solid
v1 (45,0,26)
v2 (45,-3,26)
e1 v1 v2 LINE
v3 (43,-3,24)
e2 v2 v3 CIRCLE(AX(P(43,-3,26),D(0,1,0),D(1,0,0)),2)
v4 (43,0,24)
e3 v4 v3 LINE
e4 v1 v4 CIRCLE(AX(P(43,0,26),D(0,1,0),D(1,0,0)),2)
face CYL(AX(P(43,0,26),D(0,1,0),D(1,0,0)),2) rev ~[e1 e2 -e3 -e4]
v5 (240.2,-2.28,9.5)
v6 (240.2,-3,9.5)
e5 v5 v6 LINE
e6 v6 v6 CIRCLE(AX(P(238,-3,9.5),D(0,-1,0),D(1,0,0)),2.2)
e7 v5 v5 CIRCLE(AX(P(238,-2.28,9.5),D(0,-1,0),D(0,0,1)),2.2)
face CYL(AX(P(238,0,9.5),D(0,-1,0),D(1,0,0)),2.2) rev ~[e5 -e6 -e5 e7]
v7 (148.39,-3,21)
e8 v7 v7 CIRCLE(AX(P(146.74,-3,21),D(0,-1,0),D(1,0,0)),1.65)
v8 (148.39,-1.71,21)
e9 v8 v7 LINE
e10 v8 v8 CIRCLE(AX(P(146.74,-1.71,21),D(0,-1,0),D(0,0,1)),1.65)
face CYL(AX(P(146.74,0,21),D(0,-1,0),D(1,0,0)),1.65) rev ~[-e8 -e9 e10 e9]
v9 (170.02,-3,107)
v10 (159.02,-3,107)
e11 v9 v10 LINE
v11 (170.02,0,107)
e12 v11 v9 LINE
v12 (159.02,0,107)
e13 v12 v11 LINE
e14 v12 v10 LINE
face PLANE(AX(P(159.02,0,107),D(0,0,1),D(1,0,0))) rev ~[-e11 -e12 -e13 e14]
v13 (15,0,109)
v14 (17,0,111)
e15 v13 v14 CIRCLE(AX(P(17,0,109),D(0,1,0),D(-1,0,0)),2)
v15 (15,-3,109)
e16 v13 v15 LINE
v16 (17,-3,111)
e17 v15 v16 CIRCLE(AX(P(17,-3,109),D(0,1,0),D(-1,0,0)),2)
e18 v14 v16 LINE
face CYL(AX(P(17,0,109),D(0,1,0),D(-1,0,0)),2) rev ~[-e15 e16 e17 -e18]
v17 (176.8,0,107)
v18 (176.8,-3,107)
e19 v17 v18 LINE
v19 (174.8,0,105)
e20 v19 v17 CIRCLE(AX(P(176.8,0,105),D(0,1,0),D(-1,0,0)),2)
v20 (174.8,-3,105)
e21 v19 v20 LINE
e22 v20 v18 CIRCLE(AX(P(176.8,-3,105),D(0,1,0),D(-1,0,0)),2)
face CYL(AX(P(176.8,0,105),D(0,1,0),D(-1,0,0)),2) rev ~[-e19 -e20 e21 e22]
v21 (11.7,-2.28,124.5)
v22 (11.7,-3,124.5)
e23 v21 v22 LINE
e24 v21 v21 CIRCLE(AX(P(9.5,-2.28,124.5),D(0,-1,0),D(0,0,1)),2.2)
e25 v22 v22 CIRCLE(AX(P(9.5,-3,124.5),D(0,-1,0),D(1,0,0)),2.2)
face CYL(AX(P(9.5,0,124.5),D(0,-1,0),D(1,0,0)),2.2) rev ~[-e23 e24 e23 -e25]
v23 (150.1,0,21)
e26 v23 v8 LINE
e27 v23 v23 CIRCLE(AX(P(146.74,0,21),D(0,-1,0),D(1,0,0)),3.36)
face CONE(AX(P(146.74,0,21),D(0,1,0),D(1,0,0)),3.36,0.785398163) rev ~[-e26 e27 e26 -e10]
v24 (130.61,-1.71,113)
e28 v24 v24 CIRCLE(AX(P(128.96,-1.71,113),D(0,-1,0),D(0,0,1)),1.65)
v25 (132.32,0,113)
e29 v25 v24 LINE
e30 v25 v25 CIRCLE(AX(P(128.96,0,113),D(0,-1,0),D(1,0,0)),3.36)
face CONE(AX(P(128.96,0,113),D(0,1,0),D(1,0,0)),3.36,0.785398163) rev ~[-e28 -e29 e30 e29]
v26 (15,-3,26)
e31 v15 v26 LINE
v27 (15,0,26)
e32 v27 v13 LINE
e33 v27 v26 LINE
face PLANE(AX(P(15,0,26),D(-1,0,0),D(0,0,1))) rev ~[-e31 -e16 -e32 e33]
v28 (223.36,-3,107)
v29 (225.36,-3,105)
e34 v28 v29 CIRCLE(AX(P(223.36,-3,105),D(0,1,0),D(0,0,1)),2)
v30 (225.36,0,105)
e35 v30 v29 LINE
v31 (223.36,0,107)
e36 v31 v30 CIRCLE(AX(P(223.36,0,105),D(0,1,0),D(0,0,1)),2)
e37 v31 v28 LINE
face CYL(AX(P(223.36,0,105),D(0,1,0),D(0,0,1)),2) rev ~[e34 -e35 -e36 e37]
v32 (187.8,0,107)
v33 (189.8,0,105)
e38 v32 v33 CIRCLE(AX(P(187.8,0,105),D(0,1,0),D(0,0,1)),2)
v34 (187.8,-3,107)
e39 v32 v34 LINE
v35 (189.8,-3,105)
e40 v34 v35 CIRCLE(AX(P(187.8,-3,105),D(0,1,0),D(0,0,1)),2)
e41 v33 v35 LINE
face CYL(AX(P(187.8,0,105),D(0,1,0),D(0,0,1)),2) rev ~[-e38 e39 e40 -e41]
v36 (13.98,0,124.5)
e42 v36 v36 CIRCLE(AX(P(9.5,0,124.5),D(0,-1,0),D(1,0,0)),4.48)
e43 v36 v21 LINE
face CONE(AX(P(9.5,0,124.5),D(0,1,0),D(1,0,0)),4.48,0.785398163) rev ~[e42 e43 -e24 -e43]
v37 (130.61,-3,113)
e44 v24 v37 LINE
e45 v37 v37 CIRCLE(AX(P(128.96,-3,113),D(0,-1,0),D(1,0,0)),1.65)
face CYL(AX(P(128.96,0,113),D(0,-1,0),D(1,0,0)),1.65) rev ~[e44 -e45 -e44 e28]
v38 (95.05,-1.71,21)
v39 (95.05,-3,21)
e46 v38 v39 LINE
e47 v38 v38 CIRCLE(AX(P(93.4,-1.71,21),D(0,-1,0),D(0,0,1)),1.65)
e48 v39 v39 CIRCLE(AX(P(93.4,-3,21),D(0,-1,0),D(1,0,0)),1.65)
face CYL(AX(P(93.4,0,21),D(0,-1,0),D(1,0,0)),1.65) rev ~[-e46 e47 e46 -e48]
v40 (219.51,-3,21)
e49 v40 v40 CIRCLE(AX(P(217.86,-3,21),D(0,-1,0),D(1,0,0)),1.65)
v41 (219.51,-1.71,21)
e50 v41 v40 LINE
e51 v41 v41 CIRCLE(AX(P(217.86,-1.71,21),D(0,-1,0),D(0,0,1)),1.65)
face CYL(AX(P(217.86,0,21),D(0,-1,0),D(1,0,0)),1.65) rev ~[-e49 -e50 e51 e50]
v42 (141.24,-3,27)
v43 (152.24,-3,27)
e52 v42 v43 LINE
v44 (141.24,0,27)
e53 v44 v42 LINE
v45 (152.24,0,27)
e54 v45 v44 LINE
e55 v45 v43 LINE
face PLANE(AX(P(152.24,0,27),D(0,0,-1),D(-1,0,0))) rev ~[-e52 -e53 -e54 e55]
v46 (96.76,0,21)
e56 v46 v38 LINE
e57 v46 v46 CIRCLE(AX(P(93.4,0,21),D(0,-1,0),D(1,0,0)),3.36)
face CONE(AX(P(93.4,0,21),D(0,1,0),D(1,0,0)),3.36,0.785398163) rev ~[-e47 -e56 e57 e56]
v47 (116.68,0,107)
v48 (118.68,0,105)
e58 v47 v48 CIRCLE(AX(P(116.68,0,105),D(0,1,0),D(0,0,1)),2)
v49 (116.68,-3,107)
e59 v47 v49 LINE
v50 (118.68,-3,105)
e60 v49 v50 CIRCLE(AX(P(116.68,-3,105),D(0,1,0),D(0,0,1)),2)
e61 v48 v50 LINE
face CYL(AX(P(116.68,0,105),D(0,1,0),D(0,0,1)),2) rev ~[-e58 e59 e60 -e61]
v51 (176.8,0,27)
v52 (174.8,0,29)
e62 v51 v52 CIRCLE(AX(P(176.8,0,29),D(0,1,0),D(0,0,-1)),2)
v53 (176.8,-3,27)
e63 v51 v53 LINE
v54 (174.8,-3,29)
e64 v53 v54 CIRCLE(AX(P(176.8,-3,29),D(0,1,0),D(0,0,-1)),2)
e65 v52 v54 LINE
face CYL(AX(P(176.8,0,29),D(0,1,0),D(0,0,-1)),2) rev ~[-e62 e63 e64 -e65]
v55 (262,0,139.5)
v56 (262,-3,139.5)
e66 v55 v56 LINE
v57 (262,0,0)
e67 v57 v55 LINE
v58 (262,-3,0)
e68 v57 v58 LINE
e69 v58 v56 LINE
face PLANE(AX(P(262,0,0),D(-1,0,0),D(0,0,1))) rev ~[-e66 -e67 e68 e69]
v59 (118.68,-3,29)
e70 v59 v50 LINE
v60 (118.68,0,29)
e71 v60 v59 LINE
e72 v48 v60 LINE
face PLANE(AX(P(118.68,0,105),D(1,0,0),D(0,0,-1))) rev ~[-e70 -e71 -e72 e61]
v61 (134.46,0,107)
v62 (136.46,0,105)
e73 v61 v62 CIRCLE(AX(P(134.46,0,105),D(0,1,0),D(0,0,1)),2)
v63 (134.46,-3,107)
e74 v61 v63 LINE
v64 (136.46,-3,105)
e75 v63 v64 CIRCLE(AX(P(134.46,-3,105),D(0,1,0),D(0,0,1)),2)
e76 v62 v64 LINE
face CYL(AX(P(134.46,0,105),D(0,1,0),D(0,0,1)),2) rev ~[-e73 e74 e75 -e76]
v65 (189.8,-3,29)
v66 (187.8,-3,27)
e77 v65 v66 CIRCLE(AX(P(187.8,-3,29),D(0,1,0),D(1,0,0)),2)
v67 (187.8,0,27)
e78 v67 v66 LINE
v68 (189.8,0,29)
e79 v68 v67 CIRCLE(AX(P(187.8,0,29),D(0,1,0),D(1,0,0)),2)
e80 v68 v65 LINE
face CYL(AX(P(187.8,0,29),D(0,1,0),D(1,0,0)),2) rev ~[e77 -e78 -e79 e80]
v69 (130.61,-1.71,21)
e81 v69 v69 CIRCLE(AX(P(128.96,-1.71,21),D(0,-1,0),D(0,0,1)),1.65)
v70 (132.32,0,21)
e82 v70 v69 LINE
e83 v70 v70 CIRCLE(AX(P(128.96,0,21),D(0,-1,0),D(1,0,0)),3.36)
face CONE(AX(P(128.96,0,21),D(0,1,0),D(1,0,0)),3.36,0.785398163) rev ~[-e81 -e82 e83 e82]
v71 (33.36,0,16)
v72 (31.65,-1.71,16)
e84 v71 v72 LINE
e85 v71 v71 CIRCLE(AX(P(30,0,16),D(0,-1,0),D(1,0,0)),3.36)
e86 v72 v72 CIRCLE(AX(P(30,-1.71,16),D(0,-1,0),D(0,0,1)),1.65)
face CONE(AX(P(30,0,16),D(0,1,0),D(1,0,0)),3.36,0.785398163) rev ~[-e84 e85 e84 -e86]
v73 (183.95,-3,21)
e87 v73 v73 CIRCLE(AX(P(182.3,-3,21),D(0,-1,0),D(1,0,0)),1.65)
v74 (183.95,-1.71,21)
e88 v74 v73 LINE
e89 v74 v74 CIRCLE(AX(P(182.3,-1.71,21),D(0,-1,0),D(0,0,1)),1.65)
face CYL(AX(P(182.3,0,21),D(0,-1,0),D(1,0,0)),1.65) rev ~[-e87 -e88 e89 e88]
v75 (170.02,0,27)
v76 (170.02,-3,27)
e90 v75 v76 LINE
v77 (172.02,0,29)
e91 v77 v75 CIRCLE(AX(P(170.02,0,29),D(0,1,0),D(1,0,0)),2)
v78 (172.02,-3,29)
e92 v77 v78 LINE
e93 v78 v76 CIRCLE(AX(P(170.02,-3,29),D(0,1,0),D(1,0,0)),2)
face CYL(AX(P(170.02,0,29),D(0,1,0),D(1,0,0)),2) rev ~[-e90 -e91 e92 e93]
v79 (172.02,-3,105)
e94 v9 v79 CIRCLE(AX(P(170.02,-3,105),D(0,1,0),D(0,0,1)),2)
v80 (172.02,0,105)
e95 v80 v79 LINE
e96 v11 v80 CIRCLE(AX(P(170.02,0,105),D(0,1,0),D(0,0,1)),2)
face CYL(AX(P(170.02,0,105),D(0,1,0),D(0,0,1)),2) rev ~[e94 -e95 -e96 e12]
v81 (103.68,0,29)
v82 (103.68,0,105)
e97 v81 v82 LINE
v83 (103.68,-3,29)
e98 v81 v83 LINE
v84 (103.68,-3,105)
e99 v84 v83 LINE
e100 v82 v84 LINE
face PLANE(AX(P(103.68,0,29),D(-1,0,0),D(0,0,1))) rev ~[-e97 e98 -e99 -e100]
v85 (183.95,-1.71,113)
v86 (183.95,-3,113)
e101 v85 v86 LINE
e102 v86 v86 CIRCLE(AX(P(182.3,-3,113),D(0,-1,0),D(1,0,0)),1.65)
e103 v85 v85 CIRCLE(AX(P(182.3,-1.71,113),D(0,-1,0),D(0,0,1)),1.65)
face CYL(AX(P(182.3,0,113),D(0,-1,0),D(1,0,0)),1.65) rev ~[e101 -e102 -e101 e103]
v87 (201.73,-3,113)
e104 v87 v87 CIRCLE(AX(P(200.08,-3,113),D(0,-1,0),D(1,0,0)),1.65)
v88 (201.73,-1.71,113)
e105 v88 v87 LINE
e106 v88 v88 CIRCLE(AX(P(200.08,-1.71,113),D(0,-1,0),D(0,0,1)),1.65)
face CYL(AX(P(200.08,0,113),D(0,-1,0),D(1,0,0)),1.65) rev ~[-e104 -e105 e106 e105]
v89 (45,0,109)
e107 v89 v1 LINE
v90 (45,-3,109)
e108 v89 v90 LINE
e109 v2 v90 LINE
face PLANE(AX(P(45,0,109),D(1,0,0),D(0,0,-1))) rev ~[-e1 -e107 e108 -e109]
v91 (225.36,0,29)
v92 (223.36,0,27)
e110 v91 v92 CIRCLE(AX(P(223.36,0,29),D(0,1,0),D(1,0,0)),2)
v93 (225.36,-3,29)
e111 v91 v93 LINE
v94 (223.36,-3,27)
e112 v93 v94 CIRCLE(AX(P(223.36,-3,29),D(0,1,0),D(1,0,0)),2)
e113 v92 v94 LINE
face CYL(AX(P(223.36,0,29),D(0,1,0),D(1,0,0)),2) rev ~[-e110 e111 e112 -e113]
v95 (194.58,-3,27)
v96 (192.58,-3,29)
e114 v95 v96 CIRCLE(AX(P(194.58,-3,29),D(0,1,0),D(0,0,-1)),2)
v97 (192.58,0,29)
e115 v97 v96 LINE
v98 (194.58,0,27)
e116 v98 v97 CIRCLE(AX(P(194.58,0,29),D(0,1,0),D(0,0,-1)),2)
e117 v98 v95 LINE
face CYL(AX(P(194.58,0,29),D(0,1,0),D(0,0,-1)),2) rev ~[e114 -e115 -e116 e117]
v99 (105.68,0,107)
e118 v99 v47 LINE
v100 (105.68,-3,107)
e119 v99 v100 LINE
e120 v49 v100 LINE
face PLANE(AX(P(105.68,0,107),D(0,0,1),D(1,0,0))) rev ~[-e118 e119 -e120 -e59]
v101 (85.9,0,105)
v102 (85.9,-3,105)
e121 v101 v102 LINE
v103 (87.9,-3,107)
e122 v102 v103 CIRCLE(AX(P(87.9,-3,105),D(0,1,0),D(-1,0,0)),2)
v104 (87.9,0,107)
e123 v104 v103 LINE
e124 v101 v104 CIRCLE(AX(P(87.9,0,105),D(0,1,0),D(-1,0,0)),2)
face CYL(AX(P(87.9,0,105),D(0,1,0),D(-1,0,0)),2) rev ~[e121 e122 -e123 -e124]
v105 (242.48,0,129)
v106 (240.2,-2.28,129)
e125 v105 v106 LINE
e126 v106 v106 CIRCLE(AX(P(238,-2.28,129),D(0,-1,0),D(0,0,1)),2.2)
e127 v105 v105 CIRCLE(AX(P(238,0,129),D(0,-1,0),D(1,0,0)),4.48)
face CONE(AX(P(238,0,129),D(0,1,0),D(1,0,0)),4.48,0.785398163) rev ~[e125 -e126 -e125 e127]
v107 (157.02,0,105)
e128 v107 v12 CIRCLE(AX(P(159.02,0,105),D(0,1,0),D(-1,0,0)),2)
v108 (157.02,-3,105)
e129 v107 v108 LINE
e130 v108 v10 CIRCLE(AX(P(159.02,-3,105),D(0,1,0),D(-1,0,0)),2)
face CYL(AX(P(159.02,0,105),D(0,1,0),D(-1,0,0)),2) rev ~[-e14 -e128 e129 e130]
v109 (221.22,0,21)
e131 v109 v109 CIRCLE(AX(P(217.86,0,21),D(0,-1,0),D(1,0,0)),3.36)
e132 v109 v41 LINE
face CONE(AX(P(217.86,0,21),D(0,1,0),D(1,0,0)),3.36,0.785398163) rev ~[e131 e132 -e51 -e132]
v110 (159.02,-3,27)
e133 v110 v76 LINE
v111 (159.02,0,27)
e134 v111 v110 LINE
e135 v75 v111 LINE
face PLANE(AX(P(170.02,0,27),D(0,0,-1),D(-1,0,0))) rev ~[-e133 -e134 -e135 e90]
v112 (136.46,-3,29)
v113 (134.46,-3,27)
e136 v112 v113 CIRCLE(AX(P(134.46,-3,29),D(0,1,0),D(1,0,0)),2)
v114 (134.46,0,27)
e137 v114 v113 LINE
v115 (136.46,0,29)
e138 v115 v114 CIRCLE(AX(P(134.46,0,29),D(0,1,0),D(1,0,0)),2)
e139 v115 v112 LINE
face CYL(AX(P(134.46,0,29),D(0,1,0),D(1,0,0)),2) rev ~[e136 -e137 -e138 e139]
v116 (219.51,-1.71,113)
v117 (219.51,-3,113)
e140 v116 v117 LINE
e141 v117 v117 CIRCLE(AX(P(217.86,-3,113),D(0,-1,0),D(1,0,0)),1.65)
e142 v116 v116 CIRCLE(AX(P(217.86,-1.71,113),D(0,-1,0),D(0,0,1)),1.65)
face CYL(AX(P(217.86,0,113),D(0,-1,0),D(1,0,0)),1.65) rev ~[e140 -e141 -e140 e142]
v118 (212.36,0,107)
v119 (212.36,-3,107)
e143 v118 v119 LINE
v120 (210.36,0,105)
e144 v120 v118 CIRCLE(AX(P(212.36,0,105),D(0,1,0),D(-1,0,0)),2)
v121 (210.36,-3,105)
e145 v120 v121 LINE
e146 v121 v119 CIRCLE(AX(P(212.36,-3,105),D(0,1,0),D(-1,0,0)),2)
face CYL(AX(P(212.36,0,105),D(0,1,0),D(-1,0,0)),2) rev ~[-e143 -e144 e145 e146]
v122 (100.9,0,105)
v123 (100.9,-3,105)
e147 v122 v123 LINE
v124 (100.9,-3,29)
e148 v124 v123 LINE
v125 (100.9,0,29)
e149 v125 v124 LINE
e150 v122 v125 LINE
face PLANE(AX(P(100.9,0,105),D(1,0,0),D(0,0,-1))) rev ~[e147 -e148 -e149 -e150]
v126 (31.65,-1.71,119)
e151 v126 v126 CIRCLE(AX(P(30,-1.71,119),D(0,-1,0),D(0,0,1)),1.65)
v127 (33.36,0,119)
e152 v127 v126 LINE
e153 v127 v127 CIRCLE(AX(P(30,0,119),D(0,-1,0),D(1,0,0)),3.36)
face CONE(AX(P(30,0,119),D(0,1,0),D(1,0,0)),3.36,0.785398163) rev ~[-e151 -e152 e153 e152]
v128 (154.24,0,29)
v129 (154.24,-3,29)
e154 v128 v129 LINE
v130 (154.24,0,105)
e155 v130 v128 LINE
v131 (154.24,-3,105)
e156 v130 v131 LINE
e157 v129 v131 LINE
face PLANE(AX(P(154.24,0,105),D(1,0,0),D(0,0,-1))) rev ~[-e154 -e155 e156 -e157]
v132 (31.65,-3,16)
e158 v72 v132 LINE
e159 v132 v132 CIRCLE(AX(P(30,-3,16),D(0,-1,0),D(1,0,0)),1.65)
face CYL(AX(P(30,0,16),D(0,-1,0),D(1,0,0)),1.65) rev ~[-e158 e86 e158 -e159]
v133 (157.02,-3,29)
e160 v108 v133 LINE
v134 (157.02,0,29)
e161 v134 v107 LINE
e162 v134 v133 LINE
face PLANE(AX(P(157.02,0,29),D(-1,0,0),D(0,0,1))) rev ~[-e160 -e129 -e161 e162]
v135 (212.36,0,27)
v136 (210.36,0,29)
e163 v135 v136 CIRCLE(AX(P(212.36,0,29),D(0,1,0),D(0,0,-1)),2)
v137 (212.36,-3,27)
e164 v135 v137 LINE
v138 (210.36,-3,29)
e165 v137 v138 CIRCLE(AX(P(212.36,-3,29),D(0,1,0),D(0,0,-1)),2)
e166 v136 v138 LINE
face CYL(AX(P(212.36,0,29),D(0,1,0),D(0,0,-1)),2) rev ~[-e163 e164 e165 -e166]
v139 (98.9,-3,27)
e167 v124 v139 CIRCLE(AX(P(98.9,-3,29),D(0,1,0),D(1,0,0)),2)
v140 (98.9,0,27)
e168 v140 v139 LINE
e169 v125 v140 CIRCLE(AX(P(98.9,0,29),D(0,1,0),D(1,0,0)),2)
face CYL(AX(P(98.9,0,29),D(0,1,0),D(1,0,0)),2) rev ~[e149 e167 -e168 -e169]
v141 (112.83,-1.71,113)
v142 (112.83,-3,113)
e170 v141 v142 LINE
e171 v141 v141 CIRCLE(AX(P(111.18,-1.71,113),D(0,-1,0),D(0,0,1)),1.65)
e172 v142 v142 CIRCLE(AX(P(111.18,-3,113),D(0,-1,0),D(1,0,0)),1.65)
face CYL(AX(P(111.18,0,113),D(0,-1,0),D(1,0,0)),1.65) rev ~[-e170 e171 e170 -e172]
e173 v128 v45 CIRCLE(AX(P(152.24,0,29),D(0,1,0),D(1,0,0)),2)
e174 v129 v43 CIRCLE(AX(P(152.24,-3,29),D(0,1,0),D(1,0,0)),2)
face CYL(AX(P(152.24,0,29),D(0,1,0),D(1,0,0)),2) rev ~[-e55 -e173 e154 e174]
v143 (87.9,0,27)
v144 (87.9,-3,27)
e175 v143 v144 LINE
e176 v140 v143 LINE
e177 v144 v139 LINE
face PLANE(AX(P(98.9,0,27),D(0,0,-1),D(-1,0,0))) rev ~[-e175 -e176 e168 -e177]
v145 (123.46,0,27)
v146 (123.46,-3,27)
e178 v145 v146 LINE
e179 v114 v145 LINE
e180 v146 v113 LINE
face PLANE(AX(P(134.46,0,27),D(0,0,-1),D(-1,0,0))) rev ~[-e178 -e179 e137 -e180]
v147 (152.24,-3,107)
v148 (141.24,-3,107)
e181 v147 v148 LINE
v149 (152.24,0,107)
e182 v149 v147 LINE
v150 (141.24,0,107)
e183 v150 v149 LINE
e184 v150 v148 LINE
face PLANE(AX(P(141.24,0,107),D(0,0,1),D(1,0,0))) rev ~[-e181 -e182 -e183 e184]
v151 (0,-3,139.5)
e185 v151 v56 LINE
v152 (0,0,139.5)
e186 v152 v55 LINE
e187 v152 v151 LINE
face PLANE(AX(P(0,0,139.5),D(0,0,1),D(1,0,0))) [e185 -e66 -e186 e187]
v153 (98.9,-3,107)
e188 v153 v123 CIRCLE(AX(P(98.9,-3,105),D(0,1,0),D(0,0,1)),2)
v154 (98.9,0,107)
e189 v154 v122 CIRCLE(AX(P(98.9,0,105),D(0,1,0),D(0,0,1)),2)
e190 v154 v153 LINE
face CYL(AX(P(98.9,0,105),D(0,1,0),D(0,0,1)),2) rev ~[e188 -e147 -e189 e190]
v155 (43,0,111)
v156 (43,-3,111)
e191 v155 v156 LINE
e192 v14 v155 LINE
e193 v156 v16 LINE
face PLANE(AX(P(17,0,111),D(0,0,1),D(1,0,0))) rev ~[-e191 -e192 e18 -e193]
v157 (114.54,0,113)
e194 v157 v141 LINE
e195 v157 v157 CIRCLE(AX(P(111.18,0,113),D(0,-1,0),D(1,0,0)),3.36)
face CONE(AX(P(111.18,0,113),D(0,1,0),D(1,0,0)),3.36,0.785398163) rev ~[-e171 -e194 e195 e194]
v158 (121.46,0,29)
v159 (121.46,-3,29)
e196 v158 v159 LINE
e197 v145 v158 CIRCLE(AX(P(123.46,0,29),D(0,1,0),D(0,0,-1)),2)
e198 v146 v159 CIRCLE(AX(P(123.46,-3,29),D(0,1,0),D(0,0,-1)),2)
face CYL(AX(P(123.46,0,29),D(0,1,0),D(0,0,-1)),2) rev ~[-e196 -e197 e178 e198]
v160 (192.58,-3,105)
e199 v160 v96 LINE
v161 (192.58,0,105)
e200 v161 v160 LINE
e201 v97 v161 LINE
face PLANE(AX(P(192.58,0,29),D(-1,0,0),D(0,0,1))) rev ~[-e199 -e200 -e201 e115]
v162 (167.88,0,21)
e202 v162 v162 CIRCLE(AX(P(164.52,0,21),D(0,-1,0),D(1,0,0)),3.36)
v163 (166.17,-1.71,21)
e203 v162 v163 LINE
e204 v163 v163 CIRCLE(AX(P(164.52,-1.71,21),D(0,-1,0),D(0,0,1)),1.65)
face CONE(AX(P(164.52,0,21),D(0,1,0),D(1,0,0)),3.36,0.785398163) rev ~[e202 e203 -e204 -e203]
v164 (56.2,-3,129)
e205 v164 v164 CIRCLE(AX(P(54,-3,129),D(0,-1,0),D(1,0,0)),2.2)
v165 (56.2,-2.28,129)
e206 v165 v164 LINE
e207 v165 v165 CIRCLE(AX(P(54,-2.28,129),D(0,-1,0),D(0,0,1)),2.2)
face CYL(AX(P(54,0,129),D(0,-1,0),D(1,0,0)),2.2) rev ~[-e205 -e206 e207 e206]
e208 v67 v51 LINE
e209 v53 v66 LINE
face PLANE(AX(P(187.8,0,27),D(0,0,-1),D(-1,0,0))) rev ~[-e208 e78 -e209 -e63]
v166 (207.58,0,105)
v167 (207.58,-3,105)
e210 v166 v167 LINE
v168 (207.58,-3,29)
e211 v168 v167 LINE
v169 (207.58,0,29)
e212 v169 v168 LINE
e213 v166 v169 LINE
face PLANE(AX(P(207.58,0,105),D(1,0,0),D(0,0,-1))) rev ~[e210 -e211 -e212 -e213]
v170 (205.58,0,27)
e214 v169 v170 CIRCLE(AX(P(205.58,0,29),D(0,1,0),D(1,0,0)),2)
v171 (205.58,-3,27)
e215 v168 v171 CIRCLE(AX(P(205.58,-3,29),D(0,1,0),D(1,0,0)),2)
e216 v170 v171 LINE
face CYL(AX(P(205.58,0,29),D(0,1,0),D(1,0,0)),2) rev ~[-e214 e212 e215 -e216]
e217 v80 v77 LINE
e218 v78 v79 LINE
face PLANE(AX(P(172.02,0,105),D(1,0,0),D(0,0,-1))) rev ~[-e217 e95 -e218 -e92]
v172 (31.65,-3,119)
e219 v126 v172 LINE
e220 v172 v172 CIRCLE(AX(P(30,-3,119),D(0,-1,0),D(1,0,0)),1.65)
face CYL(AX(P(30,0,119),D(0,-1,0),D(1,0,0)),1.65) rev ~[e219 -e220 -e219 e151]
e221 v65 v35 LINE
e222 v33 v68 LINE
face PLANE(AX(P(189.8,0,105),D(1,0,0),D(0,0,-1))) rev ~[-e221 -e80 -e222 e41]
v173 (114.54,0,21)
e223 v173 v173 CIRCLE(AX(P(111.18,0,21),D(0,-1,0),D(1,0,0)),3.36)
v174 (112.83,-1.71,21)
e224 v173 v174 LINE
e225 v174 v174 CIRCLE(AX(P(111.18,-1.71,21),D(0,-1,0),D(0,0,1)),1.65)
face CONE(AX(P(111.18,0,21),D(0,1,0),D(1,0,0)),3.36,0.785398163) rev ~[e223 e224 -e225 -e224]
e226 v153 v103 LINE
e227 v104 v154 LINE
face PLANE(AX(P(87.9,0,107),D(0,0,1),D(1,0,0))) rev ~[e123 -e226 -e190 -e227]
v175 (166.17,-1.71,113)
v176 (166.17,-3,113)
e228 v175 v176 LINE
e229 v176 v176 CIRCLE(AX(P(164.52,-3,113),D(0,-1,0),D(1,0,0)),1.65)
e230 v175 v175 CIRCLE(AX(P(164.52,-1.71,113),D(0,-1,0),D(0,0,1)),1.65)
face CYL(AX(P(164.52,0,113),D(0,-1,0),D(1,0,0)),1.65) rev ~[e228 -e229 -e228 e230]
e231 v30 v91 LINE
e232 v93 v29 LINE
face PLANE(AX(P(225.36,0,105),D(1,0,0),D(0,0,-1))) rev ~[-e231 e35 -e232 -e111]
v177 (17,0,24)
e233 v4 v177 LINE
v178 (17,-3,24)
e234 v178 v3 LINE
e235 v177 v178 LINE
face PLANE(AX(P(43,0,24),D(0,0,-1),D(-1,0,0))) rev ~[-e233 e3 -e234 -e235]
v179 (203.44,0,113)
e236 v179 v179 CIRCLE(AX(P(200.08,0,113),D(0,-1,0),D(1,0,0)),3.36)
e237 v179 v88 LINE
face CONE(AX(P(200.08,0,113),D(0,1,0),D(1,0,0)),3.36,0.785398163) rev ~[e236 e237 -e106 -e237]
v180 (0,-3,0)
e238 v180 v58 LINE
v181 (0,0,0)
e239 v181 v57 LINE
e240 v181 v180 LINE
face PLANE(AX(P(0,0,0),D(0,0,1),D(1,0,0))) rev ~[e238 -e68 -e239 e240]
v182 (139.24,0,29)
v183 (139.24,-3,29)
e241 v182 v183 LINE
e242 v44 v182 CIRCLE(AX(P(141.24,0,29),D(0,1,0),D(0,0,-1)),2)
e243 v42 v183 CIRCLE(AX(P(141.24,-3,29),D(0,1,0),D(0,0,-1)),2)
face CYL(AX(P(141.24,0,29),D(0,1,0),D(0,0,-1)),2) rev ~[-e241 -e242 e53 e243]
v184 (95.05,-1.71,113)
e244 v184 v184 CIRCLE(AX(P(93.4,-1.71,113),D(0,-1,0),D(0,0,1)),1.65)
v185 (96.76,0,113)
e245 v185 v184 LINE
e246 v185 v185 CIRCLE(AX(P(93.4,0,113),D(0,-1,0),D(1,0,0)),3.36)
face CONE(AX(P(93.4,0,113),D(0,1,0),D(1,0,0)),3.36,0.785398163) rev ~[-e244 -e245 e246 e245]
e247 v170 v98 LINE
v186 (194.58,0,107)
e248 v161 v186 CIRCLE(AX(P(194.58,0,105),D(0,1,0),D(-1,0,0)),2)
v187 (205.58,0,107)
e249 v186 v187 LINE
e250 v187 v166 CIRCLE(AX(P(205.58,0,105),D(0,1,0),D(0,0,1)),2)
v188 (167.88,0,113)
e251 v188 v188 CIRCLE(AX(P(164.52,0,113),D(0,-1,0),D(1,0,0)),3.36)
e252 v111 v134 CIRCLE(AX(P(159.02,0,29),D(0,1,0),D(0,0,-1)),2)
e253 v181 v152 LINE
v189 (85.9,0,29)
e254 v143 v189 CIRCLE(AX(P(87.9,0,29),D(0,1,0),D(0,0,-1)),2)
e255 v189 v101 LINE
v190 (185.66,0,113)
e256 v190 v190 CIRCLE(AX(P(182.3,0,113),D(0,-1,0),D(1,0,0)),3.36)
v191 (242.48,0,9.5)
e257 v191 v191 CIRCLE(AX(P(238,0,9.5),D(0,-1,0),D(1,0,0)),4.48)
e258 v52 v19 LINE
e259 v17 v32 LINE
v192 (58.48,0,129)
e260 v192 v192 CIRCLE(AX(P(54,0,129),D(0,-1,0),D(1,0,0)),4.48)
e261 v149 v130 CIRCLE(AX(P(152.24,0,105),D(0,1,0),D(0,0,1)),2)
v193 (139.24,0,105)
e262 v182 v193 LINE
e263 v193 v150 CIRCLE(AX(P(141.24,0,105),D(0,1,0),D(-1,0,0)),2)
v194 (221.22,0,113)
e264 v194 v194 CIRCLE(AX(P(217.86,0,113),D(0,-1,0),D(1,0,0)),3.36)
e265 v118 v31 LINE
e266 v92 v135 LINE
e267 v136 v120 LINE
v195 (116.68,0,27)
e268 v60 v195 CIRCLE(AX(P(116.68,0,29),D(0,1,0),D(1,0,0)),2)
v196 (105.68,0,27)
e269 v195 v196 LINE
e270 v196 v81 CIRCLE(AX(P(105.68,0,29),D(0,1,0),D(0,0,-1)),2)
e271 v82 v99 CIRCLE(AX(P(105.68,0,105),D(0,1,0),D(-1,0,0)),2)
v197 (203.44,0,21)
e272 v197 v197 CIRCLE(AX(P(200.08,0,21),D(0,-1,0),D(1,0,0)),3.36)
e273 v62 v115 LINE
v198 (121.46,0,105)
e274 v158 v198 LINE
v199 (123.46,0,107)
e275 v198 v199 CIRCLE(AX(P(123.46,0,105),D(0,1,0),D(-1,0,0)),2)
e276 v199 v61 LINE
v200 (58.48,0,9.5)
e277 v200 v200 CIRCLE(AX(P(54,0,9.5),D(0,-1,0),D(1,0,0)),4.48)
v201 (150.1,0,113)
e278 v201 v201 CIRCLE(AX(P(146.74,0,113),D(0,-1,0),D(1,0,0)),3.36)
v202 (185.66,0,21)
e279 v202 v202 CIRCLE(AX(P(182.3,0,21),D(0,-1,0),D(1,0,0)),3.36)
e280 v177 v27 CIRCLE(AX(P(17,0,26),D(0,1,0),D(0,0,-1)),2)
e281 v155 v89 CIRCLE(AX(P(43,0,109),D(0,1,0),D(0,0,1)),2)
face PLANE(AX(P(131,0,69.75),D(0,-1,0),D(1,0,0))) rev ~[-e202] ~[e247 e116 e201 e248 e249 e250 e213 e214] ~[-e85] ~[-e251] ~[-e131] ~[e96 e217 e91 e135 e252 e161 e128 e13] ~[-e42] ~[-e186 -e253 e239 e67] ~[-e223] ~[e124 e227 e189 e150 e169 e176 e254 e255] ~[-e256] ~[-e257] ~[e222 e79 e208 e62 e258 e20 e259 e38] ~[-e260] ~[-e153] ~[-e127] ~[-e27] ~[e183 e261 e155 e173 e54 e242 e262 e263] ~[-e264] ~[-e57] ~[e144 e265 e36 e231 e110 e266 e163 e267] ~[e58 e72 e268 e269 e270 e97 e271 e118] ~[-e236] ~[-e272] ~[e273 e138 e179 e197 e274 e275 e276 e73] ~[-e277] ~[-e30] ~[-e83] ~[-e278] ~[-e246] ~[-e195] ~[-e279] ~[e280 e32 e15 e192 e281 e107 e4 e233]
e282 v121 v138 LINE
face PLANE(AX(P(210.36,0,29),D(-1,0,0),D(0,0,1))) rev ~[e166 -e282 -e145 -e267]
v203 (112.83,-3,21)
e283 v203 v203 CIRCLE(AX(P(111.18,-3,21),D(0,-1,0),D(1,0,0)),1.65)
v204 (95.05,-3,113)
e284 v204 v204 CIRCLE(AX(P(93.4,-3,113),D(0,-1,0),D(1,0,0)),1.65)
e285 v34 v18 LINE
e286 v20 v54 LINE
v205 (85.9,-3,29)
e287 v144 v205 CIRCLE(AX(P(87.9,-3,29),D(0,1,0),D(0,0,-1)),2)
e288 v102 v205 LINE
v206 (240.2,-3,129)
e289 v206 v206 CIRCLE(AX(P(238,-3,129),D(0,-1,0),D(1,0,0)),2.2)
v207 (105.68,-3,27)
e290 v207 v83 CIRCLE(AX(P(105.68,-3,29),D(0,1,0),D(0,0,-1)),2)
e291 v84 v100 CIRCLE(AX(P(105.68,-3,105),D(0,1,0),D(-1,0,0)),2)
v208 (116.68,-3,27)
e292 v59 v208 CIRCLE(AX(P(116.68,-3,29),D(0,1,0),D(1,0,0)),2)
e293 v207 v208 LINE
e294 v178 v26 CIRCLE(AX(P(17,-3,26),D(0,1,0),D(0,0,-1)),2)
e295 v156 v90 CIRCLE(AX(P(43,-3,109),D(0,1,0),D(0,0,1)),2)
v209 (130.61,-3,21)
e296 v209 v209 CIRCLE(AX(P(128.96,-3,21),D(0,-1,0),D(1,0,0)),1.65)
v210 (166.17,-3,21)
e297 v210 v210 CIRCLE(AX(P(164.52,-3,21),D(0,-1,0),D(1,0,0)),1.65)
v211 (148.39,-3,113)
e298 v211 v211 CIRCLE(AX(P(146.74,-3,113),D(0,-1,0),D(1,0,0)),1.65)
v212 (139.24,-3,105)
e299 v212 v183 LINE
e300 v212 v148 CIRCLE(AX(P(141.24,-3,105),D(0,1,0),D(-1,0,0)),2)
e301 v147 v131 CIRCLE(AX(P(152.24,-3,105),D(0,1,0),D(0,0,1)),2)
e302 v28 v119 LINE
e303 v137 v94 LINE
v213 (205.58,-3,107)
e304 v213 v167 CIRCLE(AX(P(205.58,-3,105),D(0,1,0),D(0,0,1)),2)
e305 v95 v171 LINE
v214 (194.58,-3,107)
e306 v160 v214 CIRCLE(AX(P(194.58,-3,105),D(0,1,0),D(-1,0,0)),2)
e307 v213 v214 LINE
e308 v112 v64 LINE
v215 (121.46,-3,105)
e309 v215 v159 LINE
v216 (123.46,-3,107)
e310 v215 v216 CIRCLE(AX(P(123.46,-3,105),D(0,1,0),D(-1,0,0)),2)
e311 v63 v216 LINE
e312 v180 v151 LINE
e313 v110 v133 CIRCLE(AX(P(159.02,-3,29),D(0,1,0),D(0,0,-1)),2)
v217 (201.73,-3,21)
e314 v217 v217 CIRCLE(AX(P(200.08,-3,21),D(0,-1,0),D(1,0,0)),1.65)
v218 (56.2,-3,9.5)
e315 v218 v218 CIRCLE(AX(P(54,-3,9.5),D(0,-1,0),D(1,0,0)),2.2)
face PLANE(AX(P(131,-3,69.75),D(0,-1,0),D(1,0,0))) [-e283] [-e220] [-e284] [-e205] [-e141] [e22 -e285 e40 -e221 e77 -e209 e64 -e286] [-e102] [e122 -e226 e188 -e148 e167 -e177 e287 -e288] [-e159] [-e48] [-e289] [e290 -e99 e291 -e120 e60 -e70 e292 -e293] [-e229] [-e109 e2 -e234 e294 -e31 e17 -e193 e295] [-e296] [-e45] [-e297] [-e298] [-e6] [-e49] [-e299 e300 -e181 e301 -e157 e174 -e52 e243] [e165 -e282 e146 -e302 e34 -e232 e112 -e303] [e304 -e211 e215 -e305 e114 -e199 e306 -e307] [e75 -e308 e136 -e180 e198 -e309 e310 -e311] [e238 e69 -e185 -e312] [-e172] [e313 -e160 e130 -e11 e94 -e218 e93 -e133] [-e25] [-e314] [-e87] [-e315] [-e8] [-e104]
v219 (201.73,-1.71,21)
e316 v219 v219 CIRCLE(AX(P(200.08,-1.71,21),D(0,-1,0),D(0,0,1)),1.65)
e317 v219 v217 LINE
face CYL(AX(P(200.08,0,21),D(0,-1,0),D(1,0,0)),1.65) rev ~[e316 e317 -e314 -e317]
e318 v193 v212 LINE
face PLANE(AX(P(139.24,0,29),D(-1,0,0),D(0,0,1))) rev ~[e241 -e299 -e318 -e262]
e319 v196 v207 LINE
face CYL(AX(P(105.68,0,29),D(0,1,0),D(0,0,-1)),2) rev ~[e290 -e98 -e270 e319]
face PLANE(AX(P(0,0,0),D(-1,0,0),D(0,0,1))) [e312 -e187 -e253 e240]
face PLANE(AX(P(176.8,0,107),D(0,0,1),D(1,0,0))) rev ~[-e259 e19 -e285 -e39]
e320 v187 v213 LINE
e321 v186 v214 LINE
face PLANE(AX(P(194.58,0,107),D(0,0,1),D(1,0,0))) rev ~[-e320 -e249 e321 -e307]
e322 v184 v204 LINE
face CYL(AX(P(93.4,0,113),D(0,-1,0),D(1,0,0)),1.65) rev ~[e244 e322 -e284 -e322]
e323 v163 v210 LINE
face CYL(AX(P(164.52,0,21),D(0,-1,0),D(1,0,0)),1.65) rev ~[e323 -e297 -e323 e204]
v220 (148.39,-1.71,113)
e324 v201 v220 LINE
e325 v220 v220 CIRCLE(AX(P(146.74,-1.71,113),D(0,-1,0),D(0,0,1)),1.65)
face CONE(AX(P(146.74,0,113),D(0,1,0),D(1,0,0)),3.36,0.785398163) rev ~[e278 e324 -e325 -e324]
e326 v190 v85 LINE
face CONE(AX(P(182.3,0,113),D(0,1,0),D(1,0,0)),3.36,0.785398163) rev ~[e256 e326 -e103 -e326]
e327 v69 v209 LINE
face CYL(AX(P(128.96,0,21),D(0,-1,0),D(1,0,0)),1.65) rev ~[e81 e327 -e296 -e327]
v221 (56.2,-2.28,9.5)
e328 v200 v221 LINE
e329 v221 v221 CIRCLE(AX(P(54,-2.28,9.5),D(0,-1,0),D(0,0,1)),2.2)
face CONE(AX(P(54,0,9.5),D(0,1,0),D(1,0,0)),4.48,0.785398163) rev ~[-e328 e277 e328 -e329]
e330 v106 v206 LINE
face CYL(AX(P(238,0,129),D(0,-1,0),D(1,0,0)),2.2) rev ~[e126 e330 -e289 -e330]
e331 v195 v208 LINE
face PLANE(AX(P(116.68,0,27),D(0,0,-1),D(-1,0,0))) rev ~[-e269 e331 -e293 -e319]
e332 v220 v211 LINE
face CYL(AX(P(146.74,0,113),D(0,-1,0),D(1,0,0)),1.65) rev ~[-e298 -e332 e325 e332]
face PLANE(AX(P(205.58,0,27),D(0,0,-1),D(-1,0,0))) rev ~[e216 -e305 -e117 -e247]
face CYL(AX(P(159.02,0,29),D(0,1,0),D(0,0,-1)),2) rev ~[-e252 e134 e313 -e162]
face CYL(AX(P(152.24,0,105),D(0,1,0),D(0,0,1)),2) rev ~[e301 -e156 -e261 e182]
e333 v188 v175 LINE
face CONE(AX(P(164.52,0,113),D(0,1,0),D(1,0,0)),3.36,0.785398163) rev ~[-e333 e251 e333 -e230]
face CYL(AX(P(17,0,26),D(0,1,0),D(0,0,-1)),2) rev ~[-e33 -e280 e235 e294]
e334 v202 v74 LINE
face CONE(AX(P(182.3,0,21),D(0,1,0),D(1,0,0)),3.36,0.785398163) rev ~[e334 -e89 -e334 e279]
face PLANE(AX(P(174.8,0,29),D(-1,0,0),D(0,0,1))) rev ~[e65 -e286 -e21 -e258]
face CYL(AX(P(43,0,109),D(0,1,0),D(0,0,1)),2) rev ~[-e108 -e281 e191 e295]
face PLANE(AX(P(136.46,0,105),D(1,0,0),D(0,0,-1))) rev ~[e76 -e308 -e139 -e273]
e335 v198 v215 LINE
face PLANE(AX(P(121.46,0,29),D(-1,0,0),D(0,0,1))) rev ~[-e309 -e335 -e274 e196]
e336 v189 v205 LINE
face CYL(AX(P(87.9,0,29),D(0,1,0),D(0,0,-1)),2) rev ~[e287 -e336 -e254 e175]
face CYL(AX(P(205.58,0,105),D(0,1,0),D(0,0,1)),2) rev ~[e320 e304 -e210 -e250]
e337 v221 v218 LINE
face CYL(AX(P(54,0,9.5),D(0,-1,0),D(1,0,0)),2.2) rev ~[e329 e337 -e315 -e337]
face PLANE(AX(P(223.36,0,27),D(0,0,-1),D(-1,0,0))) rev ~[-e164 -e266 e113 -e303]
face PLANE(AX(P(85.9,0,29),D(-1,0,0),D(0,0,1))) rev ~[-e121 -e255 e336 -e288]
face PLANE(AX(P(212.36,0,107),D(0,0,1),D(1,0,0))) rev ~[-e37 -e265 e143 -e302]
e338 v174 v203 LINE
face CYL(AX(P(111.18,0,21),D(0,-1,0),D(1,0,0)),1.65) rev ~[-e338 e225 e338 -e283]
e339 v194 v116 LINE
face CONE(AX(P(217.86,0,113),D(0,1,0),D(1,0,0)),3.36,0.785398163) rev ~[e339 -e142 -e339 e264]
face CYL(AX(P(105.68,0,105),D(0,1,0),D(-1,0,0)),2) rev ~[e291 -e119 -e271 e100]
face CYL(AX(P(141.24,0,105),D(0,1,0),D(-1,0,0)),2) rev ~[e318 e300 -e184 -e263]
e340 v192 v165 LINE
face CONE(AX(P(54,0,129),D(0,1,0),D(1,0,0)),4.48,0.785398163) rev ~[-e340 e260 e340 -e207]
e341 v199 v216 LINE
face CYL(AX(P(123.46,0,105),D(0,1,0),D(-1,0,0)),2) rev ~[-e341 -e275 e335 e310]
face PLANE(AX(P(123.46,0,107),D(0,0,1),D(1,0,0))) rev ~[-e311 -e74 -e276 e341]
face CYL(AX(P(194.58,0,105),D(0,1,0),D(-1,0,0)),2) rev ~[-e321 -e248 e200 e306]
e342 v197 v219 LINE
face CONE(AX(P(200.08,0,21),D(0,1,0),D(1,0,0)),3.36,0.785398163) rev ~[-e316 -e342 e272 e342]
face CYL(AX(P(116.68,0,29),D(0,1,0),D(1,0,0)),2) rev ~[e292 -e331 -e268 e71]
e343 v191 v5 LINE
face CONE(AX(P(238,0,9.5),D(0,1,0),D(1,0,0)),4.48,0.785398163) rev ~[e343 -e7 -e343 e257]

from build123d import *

# Parameters (mm, degrees)
F0_W            = 262
F0_H            = 139.5
F1_DEPTH        = 3
F3_DEPTH        = 3.001
F5_D            = 3.3
F5_CSINK_D      = 6.72
F5_CSINK_ANGLE  = 90
F7_D            = 3.3
F7_CSINK_D      = 6.72
F7_CSINK_ANGLE  = 90
F8_DEPTH        = 3.001
F10_D           = 4.4
F10_CSINK_D     = 8.96
F10_CSINK_ANGLE = 90


with BuildPart() as f1:
    # F0 (on Front) → F1 (new body)
    with BuildSketch(Plane.XZ):
        with Locations((131, 69.75)):
            Rectangle(F0_W, F0_H)
    extrude(amount=F1_DEPTH)

    # F2 (on face) → F3 (cut, through all)
    with BuildSketch(Plane(origin=(0, 0, 0), x_dir=(-1, 0, 0), z_dir=(0, 1, 0))):
        with BuildLine():
            Line((-30, 111), (-43, 111))
            ThreePointArc((-43, 111), (-44.4142135624, 110.4142135624), (-45, 109))
            Line((-45, 109), (-45, 26))
            ThreePointArc((-45, 26), (-44.4142135624, 24.5857864376), (-43, 24))
            Line((-43, 24), (-30, 24))
            Line((-30, 24), (-30, 111))
        make_face()
        with BuildLine():
            Line((-17, 111), (-30, 111))
            Line((-30, 111), (-30, 24))
            Line((-30, 24), (-17, 24))
            ThreePointArc((-17, 24), (-15.5857864376, 24.5857864376), (-15, 26))
            Line((-15, 26), (-15, 109))
            ThreePointArc((-15, 109), (-15.5857864376, 110.4142135624), (-17, 111))
        make_face()
    extrude(amount=-F3_DEPTH, mode=Mode.SUBTRACT)

    # F5 (through all)
    with Locations(Plane(origin=(0, 0, 0), x_dir=(-1, 0, 0), z_dir=(0, 1, 0))):
        with Locations((-30, 119), (-30, 16)):
            CounterSinkHole(F5_D / 2, F5_CSINK_D / 2, counter_sink_angle=F5_CSINK_ANGLE)

    # F7 (through all)
    with Locations(Plane(origin=(0, 0, 0), x_dir=(-1, 0, 0), z_dir=(0, 1, 0))):
        with Locations((-217.86, 113), (-200.08, 113), (-182.3, 113), (-164.52, 113), (-146.74, 113), (-128.96, 113), (-111.18, 113), (-93.4, 113), (-93.4, 21), (-111.18, 21), (-146.74, 21), (-164.52, 21), (-128.96, 21), (-182.3, 21), (-217.86, 21), (-200.08, 21)):
            CounterSinkHole(F7_D / 2, F7_CSINK_D / 2, counter_sink_angle=F7_CSINK_ANGLE)

    # F6 (on face) → F8 (cut, through all)
    with BuildSketch(Plane(origin=(0, 0, 0), x_dir=(-1, 0, 0), z_dir=(0, 1, 0))):
        with BuildLine():
            Line((-98.9, 27), (-87.9, 27))
            ThreePointArc((-87.9, 27), (-86.4857864376, 27.5857864376), (-85.9, 29))
            Line((-85.9, 29), (-85.9, 105))
            ThreePointArc((-85.9, 105), (-86.4857864376, 106.4142135624), (-87.9, 107))
            Line((-87.9, 107), (-98.9, 107))
            ThreePointArc((-98.9, 107), (-100.3142135624, 106.4142135624), (-100.9, 105))
            Line((-100.9, 105), (-100.9, 29))
            ThreePointArc((-100.9, 29), (-100.3142135624, 27.5857864376), (-98.9, 27))
        make_face()
        with BuildLine():
            ThreePointArc((-103.68, 105), (-104.2657864376, 106.4142135624), (-105.68, 107))
            Line((-105.68, 107), (-116.68, 107))
            ThreePointArc((-116.68, 107), (-118.0942135624, 106.4142135624), (-118.68, 105))
            Line((-118.68, 105), (-118.68, 29))
            ThreePointArc((-118.68, 29), (-118.0942135624, 27.5857864376), (-116.68, 27))
            Line((-116.68, 27), (-105.68, 27))
            ThreePointArc((-105.68, 27), (-104.2657864376, 27.5857864376), (-103.68, 29))
            Line((-103.68, 29), (-103.68, 105))
        make_face()
        with BuildLine():
            ThreePointArc((-121.46, 105), (-122.0457864376, 106.4142135624), (-123.46, 107))
            Line((-123.46, 107), (-134.46, 107))
            ThreePointArc((-134.46, 107), (-135.8742135624, 106.4142135624), (-136.46, 105))
            Line((-136.46, 105), (-136.46, 29))
            ThreePointArc((-136.46, 29), (-135.8742135624, 27.5857864376), (-134.46, 27))
            Line((-134.46, 27), (-123.46, 27))
            ThreePointArc((-123.46, 27), (-122.0457864376, 27.5857864376), (-121.46, 29))
            Line((-121.46, 29), (-121.46, 105))
        make_face()
        with BuildLine():
            ThreePointArc((-139.24, 105), (-139.8257864376, 106.4142135624), (-141.24, 107))
            Line((-141.24, 107), (-152.24, 107))
            ThreePointArc((-152.24, 107), (-153.6542135624, 106.4142135624), (-154.24, 105))
            Line((-154.24, 105), (-154.24, 29))
            ThreePointArc((-154.24, 29), (-153.6542135624, 27.5857864376), (-152.24, 27))
            Line((-152.24, 27), (-141.24, 27))
            ThreePointArc((-141.24, 27), (-139.8257864376, 27.5857864376), (-139.24, 29))
            Line((-139.24, 29), (-139.24, 105))
        make_face()
        with BuildLine():
            ThreePointArc((-157.02, 105), (-157.6057864376, 106.4142135624), (-159.02, 107))
            Line((-159.02, 107), (-170.02, 107))
            ThreePointArc((-170.02, 107), (-171.4342135624, 106.4142135624), (-172.02, 105))
            Line((-172.02, 105), (-172.02, 29))
            ThreePointArc((-172.02, 29), (-171.4342135624, 27.5857864376), (-170.02, 27))
            Line((-170.02, 27), (-159.02, 27))
            ThreePointArc((-159.02, 27), (-157.6057864376, 27.5857864376), (-157.02, 29))
            Line((-157.02, 29), (-157.02, 105))
        make_face()
        with BuildLine():
            ThreePointArc((-174.8, 105), (-175.3857864376, 106.4142135624), (-176.8, 107))
            Line((-176.8, 107), (-187.8, 107))
            ThreePointArc((-187.8, 107), (-189.2142135624, 106.4142135624), (-189.8, 105))
            Line((-189.8, 105), (-189.8, 29))
            ThreePointArc((-189.8, 29), (-189.2142135624, 27.5857864376), (-187.8, 27))
            Line((-187.8, 27), (-176.8, 27))
            ThreePointArc((-176.8, 27), (-175.3857864376, 27.5857864376), (-174.8, 29))
            Line((-174.8, 29), (-174.8, 105))
        make_face()
        with BuildLine():
            ThreePointArc((-192.58, 105), (-193.1657864376, 106.4142135624), (-194.58, 107))
            Line((-194.58, 107), (-205.58, 107))
            ThreePointArc((-205.58, 107), (-206.9942135624, 106.4142135624), (-207.58, 105))
            Line((-207.58, 105), (-207.58, 29))
            ThreePointArc((-207.58, 29), (-206.9942135624, 27.5857864376), (-205.58, 27))
            Line((-205.58, 27), (-194.58, 27))
            ThreePointArc((-194.58, 27), (-193.1657864376, 27.5857864376), (-192.58, 29))
            Line((-192.58, 29), (-192.58, 105))
        make_face()
        with BuildLine():
            ThreePointArc((-210.36, 105), (-210.9457864376, 106.4142135624), (-212.36, 107))
            Line((-212.36, 107), (-223.36, 107))
            ThreePointArc((-223.36, 107), (-224.7742135624, 106.4142135624), (-225.36, 105))
            Line((-225.36, 105), (-225.36, 29))
            ThreePointArc((-225.36, 29), (-224.7742135624, 27.5857864376), (-223.36, 27))
            Line((-223.36, 27), (-212.36, 27))
            ThreePointArc((-212.36, 27), (-210.9457864376, 27.5857864376), (-210.36, 29))
            Line((-210.36, 29), (-210.36, 105))
        make_face()
    extrude(amount=-F8_DEPTH, mode=Mode.SUBTRACT)

    # F10 (through all)
    with Locations(Plane(origin=(0, 0, 0), x_dir=(-1, 0, 0), z_dir=(0, 1, 0))):
        with Locations((-9.5, 124.5), (-238, 129), (-54, 129), (-238, 9.5), (-54, 9.5)):
            CounterSinkHole(F10_D / 2, F10_CSINK_D / 2, counter_sink_angle=F10_CSINK_ANGLE)


solid = f1.part
